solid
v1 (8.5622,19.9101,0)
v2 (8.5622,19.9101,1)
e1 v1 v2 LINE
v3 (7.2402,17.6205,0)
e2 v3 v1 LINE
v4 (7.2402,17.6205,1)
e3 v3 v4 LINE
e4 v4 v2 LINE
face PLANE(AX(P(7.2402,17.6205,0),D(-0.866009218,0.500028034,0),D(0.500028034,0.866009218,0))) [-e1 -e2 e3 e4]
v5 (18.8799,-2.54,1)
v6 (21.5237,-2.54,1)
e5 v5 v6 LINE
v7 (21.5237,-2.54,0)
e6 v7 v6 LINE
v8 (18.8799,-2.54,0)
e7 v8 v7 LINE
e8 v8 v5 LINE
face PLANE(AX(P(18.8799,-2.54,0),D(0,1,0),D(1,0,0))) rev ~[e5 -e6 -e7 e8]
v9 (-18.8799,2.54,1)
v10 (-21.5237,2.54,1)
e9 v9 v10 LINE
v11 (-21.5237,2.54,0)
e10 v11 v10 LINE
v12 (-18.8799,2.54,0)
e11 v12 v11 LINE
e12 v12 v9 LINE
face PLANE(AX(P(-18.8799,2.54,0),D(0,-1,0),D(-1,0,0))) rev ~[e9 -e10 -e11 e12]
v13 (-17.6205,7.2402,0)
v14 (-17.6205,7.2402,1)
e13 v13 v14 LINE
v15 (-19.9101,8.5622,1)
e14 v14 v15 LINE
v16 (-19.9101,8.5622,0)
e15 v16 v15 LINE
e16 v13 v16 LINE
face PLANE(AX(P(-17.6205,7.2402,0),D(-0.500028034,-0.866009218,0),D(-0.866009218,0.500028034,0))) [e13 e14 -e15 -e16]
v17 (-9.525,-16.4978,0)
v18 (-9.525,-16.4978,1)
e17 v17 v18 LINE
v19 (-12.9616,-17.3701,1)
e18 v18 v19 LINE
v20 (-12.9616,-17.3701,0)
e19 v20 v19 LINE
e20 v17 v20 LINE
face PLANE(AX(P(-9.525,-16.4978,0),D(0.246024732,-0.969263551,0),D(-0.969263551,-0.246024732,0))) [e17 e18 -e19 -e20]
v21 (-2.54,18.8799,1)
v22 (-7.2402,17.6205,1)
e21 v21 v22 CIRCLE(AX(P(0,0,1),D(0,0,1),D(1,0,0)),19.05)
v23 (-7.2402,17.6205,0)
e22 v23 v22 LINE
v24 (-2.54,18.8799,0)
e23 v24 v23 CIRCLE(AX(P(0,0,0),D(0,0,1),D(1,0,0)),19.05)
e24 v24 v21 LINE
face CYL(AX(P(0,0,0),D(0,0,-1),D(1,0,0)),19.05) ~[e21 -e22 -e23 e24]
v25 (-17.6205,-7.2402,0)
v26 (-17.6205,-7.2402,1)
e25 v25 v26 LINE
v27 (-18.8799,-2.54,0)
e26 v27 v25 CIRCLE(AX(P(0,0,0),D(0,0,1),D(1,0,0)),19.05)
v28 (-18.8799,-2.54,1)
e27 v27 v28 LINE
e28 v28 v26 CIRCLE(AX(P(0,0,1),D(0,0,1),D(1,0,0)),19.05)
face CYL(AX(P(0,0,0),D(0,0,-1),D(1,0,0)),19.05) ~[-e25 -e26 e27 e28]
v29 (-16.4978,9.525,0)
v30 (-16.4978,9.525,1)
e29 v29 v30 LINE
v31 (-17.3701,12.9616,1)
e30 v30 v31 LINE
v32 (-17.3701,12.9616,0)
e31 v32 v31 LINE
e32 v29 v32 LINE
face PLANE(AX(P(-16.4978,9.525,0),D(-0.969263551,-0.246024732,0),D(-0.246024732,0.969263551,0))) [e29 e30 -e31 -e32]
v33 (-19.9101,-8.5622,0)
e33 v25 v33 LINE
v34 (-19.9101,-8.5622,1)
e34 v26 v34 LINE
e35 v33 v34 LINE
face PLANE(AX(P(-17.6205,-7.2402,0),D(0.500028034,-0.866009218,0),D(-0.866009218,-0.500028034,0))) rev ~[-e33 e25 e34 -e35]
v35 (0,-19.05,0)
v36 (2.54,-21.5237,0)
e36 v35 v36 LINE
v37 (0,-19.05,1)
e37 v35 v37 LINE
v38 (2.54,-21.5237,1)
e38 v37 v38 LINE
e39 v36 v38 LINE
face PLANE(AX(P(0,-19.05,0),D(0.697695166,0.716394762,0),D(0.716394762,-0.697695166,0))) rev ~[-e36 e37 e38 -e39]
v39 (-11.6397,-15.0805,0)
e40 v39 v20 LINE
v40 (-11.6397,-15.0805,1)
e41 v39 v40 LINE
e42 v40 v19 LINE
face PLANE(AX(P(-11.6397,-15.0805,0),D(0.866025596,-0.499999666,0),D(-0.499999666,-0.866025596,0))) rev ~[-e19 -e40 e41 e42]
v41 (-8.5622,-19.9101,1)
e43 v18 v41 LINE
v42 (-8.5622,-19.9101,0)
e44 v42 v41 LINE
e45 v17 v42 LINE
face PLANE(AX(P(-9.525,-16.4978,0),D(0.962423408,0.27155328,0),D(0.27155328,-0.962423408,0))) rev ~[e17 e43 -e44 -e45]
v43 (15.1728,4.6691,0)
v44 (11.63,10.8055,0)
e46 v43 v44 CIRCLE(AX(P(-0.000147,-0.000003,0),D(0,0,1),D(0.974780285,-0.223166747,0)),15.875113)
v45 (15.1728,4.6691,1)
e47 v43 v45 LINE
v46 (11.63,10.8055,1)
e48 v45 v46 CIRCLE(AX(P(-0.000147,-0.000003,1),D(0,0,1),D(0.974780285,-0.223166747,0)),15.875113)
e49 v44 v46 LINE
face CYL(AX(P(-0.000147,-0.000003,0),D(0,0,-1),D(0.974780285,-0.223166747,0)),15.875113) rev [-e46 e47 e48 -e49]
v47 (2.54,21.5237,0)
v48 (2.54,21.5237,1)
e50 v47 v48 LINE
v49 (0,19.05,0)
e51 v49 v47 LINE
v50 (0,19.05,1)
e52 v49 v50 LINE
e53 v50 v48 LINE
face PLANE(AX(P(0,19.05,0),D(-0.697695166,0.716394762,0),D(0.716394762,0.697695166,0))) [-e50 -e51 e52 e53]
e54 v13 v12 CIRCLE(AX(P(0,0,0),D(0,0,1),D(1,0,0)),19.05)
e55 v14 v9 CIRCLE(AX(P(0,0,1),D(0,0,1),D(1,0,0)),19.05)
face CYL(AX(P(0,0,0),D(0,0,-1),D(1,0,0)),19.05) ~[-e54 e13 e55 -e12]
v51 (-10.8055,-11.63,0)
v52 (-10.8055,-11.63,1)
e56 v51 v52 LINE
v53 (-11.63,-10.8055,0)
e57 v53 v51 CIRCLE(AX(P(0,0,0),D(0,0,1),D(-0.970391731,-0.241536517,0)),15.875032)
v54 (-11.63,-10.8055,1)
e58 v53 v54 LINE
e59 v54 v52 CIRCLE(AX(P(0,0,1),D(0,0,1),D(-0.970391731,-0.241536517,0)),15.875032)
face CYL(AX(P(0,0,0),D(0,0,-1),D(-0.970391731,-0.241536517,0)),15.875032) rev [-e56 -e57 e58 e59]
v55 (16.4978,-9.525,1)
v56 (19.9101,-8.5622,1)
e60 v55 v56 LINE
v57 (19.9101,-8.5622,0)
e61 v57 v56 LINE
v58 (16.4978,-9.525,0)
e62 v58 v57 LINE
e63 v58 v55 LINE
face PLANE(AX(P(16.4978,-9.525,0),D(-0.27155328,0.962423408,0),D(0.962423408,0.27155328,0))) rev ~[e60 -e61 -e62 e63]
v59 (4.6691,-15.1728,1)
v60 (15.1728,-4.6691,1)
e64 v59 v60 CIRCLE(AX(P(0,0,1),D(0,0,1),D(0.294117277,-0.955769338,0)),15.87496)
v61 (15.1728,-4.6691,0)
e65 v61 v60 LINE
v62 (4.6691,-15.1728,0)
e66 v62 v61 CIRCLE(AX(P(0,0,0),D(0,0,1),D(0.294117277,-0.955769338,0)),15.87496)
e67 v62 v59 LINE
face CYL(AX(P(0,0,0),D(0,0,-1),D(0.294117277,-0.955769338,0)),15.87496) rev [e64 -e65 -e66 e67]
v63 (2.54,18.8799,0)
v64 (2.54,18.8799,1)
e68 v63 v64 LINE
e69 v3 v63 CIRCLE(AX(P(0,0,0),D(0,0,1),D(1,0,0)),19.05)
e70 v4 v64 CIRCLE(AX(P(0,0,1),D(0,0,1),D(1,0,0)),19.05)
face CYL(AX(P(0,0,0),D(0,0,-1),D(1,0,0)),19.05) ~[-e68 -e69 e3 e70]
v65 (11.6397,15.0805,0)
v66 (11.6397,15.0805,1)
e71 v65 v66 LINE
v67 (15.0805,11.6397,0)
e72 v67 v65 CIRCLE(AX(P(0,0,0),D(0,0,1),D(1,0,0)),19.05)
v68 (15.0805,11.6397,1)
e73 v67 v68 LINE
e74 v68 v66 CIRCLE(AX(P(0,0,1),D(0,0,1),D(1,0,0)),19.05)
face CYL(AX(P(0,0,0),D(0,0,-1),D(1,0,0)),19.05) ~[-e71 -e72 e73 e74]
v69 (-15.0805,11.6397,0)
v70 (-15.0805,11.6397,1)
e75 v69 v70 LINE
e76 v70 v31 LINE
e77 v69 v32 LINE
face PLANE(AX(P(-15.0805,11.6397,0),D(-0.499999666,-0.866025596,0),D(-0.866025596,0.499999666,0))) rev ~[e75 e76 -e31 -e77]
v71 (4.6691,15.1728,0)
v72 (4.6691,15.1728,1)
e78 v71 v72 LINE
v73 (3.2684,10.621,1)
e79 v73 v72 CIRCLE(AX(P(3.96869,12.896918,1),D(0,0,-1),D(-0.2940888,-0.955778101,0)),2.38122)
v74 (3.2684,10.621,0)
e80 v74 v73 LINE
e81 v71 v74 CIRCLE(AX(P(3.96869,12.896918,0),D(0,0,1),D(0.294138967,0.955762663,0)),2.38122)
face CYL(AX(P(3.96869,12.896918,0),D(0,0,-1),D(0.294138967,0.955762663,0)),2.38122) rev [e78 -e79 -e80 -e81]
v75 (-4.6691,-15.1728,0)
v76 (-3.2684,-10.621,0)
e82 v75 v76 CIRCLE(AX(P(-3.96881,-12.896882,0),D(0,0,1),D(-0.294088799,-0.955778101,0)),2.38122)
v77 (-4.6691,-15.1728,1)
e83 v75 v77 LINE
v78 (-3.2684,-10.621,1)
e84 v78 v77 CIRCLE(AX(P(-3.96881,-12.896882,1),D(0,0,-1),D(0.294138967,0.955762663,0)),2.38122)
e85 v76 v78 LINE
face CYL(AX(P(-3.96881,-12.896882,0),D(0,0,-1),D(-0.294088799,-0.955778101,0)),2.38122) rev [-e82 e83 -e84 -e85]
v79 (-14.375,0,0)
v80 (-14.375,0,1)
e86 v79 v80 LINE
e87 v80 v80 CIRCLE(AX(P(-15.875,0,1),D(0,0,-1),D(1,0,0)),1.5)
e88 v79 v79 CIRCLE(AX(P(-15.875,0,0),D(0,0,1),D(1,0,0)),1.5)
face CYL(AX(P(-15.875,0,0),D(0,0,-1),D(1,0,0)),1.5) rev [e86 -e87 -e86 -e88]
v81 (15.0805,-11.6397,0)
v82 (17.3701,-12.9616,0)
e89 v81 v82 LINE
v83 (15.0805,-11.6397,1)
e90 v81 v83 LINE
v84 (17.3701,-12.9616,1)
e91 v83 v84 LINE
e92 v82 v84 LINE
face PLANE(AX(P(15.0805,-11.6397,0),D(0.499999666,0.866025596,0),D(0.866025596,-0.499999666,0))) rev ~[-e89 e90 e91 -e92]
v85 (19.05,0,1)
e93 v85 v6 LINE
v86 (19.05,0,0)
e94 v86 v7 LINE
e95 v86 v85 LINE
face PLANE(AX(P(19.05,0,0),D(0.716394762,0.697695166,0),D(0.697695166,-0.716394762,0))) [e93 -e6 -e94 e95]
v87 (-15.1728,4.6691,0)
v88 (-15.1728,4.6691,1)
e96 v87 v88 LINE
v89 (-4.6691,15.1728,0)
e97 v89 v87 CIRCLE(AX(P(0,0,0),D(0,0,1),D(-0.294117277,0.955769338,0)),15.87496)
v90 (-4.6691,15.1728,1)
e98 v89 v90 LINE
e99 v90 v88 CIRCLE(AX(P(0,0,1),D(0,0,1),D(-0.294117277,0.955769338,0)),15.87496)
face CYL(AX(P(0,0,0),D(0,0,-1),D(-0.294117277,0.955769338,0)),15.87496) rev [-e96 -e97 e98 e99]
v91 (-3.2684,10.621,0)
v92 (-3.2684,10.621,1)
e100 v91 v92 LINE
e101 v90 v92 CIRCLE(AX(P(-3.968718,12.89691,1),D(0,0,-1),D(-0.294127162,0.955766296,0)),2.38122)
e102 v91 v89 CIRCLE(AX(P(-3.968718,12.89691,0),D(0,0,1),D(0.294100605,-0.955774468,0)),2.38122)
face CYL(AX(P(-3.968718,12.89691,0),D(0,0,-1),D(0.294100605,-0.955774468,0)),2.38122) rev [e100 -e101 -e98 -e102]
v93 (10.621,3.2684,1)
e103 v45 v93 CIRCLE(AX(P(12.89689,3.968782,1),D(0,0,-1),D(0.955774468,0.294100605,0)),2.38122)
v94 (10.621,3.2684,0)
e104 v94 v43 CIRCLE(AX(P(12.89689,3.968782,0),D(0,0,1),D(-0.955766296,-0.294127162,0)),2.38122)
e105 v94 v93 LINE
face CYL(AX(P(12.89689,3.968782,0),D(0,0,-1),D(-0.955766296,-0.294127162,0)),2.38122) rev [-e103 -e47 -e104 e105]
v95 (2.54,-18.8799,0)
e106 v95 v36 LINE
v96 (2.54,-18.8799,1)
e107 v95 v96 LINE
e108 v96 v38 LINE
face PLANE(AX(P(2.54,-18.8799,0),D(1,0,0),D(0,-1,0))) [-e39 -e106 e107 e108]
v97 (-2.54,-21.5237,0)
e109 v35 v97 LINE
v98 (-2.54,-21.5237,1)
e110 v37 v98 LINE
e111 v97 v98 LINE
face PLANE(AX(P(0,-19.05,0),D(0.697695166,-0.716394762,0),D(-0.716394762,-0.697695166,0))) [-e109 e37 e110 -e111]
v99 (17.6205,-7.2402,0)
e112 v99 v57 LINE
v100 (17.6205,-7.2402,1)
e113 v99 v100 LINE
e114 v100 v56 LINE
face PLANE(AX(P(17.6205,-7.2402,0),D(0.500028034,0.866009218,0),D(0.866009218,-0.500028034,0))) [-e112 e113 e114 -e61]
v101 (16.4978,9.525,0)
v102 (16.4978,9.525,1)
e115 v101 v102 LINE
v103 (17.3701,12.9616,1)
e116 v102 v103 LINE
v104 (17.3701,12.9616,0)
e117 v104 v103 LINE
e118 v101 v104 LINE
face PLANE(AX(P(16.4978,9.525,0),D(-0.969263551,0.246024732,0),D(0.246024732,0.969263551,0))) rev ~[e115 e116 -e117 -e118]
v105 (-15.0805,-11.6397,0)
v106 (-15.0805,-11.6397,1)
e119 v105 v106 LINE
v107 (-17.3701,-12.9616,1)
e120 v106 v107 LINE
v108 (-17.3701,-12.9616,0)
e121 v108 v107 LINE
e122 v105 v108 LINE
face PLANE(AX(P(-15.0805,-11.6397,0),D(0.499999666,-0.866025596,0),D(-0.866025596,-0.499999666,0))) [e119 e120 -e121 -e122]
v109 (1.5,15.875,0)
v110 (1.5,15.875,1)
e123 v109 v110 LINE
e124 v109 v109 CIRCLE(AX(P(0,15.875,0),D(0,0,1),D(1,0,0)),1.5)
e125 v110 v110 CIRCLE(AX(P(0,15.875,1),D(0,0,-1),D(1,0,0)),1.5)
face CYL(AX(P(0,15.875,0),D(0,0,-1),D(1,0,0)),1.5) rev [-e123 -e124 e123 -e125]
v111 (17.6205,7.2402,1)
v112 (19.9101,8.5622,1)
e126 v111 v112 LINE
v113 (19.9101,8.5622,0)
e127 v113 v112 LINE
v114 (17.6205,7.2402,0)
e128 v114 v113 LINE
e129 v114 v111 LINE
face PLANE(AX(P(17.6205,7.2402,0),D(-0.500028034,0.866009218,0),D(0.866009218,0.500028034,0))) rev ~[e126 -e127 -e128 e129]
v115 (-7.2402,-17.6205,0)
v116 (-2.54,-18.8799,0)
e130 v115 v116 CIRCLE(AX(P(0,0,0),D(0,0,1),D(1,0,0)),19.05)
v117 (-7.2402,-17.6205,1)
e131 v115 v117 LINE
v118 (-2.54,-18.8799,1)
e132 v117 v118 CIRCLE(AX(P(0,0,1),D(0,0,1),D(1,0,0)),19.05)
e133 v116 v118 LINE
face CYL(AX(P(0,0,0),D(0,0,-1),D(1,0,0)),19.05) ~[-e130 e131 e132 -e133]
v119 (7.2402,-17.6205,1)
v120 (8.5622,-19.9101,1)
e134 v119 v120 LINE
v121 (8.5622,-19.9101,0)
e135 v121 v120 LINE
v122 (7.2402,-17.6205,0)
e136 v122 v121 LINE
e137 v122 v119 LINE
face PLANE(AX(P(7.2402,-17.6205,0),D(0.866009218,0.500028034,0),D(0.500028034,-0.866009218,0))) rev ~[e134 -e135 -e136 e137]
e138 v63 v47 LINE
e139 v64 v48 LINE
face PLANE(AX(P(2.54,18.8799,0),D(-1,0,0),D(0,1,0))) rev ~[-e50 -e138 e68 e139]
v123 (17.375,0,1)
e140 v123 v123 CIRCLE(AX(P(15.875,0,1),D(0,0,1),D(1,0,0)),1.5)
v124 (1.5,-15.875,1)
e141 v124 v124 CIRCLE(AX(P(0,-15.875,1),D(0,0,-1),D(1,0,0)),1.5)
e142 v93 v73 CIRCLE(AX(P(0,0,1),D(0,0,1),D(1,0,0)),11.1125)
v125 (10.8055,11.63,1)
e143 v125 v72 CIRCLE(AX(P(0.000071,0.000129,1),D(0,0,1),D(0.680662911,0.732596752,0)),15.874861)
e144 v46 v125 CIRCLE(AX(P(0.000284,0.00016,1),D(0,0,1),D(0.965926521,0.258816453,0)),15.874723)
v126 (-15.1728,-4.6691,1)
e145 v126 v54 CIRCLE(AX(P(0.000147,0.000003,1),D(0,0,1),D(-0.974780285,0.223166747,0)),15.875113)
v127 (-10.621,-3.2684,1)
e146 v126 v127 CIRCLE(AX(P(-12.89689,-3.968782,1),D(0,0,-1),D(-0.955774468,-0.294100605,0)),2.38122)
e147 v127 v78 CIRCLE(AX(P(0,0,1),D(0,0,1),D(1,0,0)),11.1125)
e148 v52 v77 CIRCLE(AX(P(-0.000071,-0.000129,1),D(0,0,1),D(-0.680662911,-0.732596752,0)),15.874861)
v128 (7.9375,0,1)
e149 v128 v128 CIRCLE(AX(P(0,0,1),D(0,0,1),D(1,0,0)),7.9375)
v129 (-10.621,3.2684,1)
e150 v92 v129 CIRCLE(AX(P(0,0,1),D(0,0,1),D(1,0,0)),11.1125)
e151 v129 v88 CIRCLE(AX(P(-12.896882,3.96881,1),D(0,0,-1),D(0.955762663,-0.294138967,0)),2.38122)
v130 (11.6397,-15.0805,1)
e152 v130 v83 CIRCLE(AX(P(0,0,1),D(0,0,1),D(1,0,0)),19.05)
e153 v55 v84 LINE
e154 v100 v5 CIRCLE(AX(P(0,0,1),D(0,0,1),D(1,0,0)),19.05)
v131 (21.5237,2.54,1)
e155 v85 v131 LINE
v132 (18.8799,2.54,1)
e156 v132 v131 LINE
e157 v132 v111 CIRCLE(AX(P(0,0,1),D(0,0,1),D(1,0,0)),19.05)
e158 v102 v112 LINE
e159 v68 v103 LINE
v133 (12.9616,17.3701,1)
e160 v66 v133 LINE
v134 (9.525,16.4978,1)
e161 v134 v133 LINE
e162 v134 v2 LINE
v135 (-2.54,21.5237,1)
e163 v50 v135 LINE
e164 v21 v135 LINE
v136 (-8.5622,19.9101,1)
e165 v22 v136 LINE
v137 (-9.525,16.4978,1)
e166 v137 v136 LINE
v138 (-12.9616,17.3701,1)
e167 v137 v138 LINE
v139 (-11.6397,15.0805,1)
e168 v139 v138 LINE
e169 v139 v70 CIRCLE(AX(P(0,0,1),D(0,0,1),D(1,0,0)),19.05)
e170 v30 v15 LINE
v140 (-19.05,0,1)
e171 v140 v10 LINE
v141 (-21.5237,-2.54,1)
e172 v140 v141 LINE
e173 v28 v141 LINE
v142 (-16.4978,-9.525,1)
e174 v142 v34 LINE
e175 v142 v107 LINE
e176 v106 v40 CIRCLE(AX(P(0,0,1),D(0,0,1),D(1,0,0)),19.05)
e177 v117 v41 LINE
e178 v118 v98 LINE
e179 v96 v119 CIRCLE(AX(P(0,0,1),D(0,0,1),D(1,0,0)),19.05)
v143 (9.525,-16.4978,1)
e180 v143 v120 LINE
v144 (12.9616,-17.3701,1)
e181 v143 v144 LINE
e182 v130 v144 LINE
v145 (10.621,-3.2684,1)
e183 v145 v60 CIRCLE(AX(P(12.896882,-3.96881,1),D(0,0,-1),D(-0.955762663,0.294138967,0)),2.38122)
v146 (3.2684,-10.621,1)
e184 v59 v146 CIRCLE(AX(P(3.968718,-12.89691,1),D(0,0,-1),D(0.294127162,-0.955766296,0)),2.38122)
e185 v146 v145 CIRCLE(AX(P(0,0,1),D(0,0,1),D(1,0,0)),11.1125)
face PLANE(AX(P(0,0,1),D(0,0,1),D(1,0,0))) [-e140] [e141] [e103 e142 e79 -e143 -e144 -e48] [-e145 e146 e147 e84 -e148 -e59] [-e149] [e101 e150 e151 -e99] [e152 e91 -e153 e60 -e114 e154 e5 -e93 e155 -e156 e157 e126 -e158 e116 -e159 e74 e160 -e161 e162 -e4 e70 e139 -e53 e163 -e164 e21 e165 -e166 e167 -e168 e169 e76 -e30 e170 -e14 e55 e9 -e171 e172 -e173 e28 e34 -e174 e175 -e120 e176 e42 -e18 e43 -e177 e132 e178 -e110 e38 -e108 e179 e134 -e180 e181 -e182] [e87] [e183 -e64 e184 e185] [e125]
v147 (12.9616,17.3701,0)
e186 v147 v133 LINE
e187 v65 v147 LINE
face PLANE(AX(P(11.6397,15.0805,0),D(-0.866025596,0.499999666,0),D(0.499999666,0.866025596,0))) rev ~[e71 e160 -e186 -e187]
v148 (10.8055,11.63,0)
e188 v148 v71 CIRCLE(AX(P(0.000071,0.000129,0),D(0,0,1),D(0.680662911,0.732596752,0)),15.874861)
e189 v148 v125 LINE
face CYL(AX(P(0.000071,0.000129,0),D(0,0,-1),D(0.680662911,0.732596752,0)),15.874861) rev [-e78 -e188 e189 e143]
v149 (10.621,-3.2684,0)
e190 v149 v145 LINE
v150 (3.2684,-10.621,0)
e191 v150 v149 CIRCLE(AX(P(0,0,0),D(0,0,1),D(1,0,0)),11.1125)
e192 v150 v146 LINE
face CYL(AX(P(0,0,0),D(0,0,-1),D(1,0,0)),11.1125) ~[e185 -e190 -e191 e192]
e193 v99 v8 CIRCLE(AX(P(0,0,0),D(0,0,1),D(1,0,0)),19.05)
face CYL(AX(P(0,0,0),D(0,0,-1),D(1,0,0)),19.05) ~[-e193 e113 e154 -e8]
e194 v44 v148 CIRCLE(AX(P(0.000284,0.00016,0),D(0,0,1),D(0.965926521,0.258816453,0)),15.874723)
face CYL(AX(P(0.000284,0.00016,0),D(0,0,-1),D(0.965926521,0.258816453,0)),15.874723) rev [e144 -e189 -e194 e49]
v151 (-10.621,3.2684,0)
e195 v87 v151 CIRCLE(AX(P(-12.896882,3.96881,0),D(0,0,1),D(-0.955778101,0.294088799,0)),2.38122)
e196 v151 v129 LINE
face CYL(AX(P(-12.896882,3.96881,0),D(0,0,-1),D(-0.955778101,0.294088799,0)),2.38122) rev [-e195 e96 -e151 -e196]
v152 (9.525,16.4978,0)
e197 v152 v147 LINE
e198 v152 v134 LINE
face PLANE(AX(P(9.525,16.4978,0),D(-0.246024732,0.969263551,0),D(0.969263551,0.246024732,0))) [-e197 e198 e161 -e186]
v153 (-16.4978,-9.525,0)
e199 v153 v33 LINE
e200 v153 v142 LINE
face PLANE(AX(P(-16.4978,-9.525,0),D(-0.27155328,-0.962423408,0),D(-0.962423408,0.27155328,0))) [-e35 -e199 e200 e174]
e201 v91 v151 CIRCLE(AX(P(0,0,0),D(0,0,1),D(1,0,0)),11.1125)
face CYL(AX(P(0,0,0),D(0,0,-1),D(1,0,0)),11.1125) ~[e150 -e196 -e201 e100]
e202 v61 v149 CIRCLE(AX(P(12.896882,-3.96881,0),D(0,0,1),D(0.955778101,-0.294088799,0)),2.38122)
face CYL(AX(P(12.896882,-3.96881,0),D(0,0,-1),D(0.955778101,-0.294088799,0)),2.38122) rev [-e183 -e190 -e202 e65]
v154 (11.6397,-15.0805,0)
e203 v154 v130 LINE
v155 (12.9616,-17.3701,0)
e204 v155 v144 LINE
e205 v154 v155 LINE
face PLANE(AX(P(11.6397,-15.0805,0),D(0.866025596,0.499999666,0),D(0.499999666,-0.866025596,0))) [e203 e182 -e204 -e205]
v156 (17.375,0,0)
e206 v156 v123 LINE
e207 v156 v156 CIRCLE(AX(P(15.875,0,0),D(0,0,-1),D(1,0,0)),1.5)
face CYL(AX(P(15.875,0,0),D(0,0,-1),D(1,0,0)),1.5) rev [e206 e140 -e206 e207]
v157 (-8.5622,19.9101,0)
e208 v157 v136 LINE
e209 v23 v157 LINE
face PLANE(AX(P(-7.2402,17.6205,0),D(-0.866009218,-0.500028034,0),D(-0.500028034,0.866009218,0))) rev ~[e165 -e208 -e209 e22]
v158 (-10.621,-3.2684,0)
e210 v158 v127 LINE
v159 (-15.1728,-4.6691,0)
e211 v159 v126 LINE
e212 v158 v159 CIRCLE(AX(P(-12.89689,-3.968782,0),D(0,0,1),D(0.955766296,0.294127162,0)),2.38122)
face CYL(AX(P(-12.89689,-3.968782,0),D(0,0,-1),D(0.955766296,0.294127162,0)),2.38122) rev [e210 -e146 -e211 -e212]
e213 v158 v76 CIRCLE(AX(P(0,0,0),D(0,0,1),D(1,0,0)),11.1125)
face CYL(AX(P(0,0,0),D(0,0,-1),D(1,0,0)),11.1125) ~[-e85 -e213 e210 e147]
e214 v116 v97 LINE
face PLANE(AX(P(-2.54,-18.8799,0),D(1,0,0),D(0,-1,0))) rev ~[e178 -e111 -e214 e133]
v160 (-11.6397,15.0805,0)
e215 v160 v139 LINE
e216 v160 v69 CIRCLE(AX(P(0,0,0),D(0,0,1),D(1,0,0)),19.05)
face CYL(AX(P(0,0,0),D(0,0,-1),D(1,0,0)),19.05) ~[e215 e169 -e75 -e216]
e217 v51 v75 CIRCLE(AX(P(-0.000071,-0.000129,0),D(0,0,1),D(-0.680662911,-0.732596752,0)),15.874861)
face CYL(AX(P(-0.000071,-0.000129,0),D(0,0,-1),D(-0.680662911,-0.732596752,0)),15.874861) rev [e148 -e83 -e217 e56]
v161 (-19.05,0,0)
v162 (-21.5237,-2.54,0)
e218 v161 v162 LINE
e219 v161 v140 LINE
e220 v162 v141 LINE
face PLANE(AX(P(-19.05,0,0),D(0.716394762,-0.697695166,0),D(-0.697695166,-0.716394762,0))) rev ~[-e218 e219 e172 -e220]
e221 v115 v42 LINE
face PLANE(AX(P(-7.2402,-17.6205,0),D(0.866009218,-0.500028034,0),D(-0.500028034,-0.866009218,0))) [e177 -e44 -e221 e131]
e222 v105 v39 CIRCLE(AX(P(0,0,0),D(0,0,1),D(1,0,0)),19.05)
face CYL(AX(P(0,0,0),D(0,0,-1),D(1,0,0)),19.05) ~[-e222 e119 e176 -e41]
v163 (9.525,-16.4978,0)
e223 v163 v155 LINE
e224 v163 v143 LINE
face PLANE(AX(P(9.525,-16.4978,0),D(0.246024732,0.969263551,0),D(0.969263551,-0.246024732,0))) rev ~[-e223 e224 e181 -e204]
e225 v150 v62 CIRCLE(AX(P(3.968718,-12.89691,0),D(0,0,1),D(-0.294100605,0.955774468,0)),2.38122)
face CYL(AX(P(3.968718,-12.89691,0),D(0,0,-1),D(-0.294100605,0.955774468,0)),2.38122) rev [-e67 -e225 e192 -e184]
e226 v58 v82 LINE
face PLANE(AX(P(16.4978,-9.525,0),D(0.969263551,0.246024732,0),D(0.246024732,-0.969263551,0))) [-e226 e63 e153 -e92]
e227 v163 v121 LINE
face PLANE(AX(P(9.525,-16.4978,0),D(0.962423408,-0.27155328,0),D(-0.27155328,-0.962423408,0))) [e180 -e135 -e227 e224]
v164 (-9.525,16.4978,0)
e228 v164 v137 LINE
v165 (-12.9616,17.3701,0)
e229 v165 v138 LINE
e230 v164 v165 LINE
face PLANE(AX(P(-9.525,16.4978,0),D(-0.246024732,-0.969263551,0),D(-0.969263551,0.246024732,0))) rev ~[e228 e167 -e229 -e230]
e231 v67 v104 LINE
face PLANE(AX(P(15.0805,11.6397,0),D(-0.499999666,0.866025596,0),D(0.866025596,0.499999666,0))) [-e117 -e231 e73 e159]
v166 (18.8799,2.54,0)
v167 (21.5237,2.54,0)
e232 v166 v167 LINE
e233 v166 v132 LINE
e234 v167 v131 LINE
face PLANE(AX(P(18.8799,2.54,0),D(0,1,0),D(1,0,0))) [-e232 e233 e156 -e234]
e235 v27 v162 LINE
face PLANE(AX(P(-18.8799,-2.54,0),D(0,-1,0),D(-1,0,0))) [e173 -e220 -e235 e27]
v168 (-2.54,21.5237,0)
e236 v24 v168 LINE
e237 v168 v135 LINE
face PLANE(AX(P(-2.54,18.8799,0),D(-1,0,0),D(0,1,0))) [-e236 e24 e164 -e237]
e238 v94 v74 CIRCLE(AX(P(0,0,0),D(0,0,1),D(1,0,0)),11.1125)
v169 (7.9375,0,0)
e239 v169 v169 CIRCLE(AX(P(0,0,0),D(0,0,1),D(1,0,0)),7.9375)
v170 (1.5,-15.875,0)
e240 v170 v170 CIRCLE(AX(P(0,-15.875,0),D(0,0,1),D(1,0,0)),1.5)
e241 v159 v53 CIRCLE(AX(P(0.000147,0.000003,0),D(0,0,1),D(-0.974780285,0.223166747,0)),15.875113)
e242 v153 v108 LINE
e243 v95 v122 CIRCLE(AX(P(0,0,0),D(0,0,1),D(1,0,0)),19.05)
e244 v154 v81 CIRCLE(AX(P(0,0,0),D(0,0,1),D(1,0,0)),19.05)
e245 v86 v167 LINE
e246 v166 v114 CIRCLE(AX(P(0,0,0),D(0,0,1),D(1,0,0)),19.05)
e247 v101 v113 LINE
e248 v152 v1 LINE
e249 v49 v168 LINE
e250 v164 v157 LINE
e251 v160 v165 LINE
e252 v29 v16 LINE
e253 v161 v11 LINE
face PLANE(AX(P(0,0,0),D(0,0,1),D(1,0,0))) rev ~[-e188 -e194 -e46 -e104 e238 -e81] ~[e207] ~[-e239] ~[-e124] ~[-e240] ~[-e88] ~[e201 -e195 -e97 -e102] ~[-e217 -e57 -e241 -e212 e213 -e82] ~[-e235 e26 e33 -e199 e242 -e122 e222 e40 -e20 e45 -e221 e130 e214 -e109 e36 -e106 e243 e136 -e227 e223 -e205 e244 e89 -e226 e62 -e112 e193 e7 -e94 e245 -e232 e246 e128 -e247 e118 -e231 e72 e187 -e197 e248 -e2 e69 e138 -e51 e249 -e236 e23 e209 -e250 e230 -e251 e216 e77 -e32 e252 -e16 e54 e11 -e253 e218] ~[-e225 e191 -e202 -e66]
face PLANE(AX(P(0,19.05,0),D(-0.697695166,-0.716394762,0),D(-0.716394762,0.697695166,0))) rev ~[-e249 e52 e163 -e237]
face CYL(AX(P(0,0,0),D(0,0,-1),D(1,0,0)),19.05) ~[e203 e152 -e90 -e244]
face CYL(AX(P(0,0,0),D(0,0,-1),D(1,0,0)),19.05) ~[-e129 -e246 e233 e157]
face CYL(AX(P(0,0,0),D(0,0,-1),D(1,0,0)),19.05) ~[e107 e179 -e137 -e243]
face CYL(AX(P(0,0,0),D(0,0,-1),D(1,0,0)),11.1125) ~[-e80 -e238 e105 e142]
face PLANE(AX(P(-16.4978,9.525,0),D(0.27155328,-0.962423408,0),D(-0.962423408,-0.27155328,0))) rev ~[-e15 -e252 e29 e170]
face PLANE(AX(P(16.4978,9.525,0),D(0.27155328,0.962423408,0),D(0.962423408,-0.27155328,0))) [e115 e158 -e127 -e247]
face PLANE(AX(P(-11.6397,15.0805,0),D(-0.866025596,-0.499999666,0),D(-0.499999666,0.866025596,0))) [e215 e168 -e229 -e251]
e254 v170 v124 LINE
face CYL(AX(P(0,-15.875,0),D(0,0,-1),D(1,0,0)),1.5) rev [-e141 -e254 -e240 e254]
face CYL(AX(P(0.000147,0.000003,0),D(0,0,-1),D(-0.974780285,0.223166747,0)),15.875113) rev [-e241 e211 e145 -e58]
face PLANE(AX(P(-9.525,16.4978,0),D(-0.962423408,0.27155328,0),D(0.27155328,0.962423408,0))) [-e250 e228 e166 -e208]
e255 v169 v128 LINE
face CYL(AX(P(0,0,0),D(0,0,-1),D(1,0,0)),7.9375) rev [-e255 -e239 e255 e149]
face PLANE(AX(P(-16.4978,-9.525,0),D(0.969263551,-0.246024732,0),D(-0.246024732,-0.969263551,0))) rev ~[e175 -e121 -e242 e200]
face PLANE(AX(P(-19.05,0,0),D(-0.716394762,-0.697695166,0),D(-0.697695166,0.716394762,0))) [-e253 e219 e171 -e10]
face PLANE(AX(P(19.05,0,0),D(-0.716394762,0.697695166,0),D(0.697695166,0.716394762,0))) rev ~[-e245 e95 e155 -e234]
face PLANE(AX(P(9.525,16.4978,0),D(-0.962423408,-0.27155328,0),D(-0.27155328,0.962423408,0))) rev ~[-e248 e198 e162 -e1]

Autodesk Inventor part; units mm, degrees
ref_plane "YZ Plane" through (0, 0, 0) normal (1, 0, 0) x (0, 1, 0)
ref_plane "XZ Plane" through (0, 0, 0) normal (0, 1, 0) x (-1, 0, 0)
ref_plane "XY Plane" through (0, 0, 0) normal (0, 0, 1) x (1, 0, 0)
sketch "Sketch1" plane through (0, 0, 0) normal (0, 0, 1) x (1, 0, 0)
  circle A0 centre (0, 0) radius 19.05
  circle A1 centre (0, 0) radius 15.875 construction
  circle A2 centre (0, 0) radius 11.1125
  line L0 (0, 0) -> (0, 19.05) construction
  circle A3 centre (0, 15.875) radius 1.5
  line L1 (-1.5875, 10.9985) -> (-1.5875, 18.9837)
  line L2 (1.5875, 10.9985) -> (1.5875, 18.9837)
  circle A4 centre (0, 0) radius 7.9375
  arc A5 (-4.6691, 15.1728) -> (-15.1728, 4.6691) centre (0, 0) ccw
  arc A6 (-15.4746, 3.5428) -> (-11.63, -10.8055) centre (0, 0) ccw
  arc A7 (-10.8055, -11.63) -> (3.5428, -15.4746) centre (0, 0) ccw
  arc A8 (4.6691, -15.1728) -> (15.1728, -4.6691) centre (0, 0) ccw
  arc A9 (15.4746, -3.5428) -> (11.63, 10.8055) centre (0, 0) ccw
  arc A10 (10.8055, 11.63) -> (-3.5428, 15.4746) centre (0, 0) ccw
  line L3 (-1.5875, 18.9837) -> (-1.5875, 21.5237) construction
  line L4 (-1.5875, 21.5237) -> (1.5875, 18.9837) construction
  arc A11 (-15.405, -3.8344) -> (-3.8344, -15.405) centre (0, 0) ccw
  arc A12 (4.6691, -15.1728) -> (15.1728, -4.6691) centre (0, 0) ccw
  arc A13 (15.3341, 4.1088) -> (4.6691, 15.1728) centre (0, 0) ccw
  arc A14 (-4.6691, 15.1728) -> (-15.1728, 4.6691) centre (0, 0) ccw
  line L5 (0, 19.05) -> (-2.54, 19.05) construction
  line L6 (-2.54, 19.05) -> (-2.54, 21.5237) construction
  line L7 (-2.54, 21.5237) -> (0, 21.5237) construction
  line L8 (0, 21.5237) -> (0, 19.05) construction
  line L9 (0, 19.05) -> (-2.54, 21.5237)
  line L10 (-2.54, 18.8799) -> (-2.54, 21.5237)
  line L11 (0, 19.05) -> (2.54, 21.5237)
  line L12 (2.54, 18.8799) -> (2.54, 21.5237)
  line L13 (-9.525, 16.4978) -> (-8.5622, 19.9101)
  line L14 (-7.2402, 17.6205) -> (-8.5622, 19.9101)
  line L15 (-9.525, 16.4978) -> (-12.9616, 17.3701)
  line L16 (-11.6397, 15.0805) -> (-12.9616, 17.3701)
  line L17 (-16.4978, 9.525) -> (-17.3701, 12.9616)
  line L18 (-15.0805, 11.6397) -> (-17.3701, 12.9616)
  line L19 (-16.4978, 9.525) -> (-19.9101, 8.5622)
  line L20 (-17.6205, 7.2402) -> (-19.9101, 8.5622)
  line L21 (-19.05, 0) -> (-21.5237, 2.54)
  line L22 (-18.8799, 2.54) -> (-21.5237, 2.54)
  line L23 (-19.05, 0) -> (-21.5237, -2.54)
  line L24 (-18.8799, -2.54) -> (-21.5237, -2.54)
  line L25 (-16.4978, -9.525) -> (-19.9101, -8.5622)
  line L26 (-17.6205, -7.2402) -> (-19.9101, -8.5622)
  line L27 (-16.4978, -9.525) -> (-17.3701, -12.9616)
  line L28 (-15.0805, -11.6397) -> (-17.3701, -12.9616)
  line L29 (-9.525, -16.4978) -> (-12.9616, -17.3701)
  line L30 (-11.6397, -15.0805) -> (-12.9616, -17.3701)
  line L31 (-9.525, -16.4978) -> (-8.5622, -19.9101)
  line L32 (-7.2402, -17.6205) -> (-8.5622, -19.9101)
  line L33 (0, -19.05) -> (-2.54, -21.5237)
  line L34 (-2.54, -18.8799) -> (-2.54, -21.5237)
  line L35 (0, -19.05) -> (2.54, -21.5237)
  line L36 (2.54, -18.8799) -> (2.54, -21.5237)
  line L37 (9.525, -16.4978) -> (8.5622, -19.9101)
  line L38 (7.2402, -17.6205) -> (8.5622, -19.9101)
  line L39 (9.525, -16.4978) -> (12.9616, -17.3701)
  line L40 (11.6397, -15.0805) -> (12.9616, -17.3701)
  line L41 (16.4978, -9.525) -> (17.3701, -12.9616)
  line L42 (15.0805, -11.6397) -> (17.3701, -12.9616)
  line L43 (16.4978, -9.525) -> (19.9101, -8.5622)
  line L44 (17.6205, -7.2402) -> (19.9101, -8.5622)
  line L45 (19.05, 0) -> (21.5237, -2.54)
  line L46 (18.8799, -2.54) -> (21.5237, -2.54)
  line L47 (19.05, 0) -> (21.5237, 2.54)
  line L48 (18.8799, 2.54) -> (21.5237, 2.54)
  line L49 (16.4978, 9.525) -> (19.9101, 8.5622)
  line L50 (17.6205, 7.2402) -> (19.9101, 8.5622)
  line L51 (16.4978, 9.525) -> (17.3701, 12.9616)
  line L52 (15.0805, 11.6397) -> (17.3701, 12.9616)
  line L53 (9.525, 16.4978) -> (12.9616, 17.3701)
  line L54 (11.6397, 15.0805) -> (12.9616, 17.3701)
  line L55 (9.525, 16.4978) -> (8.5622, 19.9101)
  line L56 (7.2402, 17.6205) -> (8.5622, 19.9101)
  arc A15 (4.6691, 15.1728) -> (3.2684, 10.621) centre (3.9687, 12.8969) ccw
  arc A16 (-3.2684, 10.621) -> (-4.6691, 15.1728) centre (-3.9687, 12.8969) ccw
  arc A17 (-15.1728, 4.6691) -> (-10.621, 3.2684) centre (-12.8969, 3.9688) ccw
  line L57 (-10.9985, 1.5875) -> (-18.9837, 1.5875)
  circle A18 centre (-15.875, 0) radius 1.5
  line L58 (-10.9985, -1.5875) -> (-18.9837, -1.5875)
  arc A19 (-10.621, -3.2684) -> (-15.1728, -4.6691) centre (-12.8969, -3.9688) ccw
  arc A20 (-4.6691, -15.1728) -> (-3.2684, -10.621) centre (-3.9688, -12.8969) ccw
  line L59 (-1.5875, -10.9985) -> (-1.5875, -18.9837)
  circle A21 centre (0, -15.875) radius 1.5
  line L60 (1.5875, -10.9985) -> (1.5875, -18.9837)
  arc A22 (3.2684, -10.621) -> (4.6691, -15.1728) centre (3.9687, -12.8969) ccw
  arc A23 (15.1728, -4.6691) -> (10.621, -3.2684) centre (12.8969, -3.9688) ccw
  line L61 (10.9985, -1.5875) -> (18.9837, -1.5875)
  circle A24 centre (15.875, 0) radius 1.5
  line L62 (10.9985, 1.5875) -> (18.9837, 1.5875)
  arc A25 (10.621, 3.2684) -> (15.1728, 4.6691) centre (12.8969, 3.9688) ccw
  point P0 (1.5875, 14.665)
  point P1 (4.5184, 10.1524)
  point P2 (10.8055, 11.63)
  point P3 (11.63, 10.8055)
  point P4 (-10.8055, -11.63)
  point P5 (-11.63, -10.8055)
  point P6 (-11.6397, 15.0805)
  point P7 (-9.525, 16.4978)
  point P8 (-9.525, 16.4978)
  point P9 (-7.2402, 17.6205)
  point P10 (-17.6205, 7.2402)
  point P11 (-16.4978, 9.525)
  point P12 (-16.4978, 9.525)
  point P13 (-15.0805, 11.6397)
  point P14 (-18.8799, -2.54)
  point P15 (-19.05, 0)
  point P16 (-19.05, 0)
  point P17 (-18.8799, 2.54)
  point P18 (-15.0805, -11.6397)
  point P19 (-16.4978, -9.525)
  point P20 (-16.4978, -9.525)
  point P21 (-17.6205, -7.2402)
  point P22 (-7.2402, -17.6205)
  point P23 (-9.525, -16.4978)
  point P24 (-9.525, -16.4978)
  point P25 (-11.6397, -15.0805)
  point P26 (2.54, -18.8799)
  point P27 (0, -19.05)
  point P28 (0, -19.05)
  point P29 (-2.54, -18.8799)
  point P30 (11.6397, -15.0805)
  point P31 (9.525, -16.4978)
  point P32 (9.525, -16.4978)
  point P33 (7.2402, -17.6205)
  point P34 (17.6205, -7.2402)
  point P35 (16.4978, -9.525)
  point P36 (16.4978, -9.525)
  point P37 (15.0805, -11.6397)
  point P38 (19.05, 0)
  point P39 (19.05, 0)
  point P40 (18.8799, -2.54)
  point P41 (18.8799, 2.54)
  point P42 (15.0805, 11.6397)
  point P43 (16.4978, 9.525)
  point P44 (16.4978, 9.525)
  point P45 (17.6205, 7.2402)
  point P46 (7.2402, 17.6205)
  point P47 (9.525, 16.4978)
  point P48 (9.525, 16.4978)
  point P49 (11.6397, 15.0805)
  point P50 (-14.665, 1.5875)
  point P51 (-1.5875, -14.665)
  point P52 (14.665, -1.5875)
  point P53 (3.2684, -10.621)
  point P54 (10.621, -3.2684)
  point P55 (15.1728, -4.6691)
  point P56 (4.6691, -15.1728)
  point P57 (-3.2684, -10.621)
  point P58 (-4.6691, -15.1728)
  point P59 (-15.1728, -4.6691)
  point P60 (-3.2684, 10.621)
  point P61 (-10.621, 3.2684)
  point P62 (-15.1728, 4.6691)
  point P63 (4.6691, 15.1728)
  point P64 (15.1728, 4.6691)
  point P65 (10.621, 3.2684)
  dimension "d0" = 38.1
  dimension "d1" = 31.75
  dimension "d2" = 22.225
  dimension "d3" = 3
  dimension "d4" = 1.5875
  dimension "d5" = 1.5875
  dimension "d10" = 15.875
  dimension "d13" = 360
  dimension "d15" = 2.54
  dimension "d22" = 2.54
  dimension "d25" = 360
  dimension "d29" = 360
extrude "Extrusion1" add sketch "Sketch1" along normal blind 1 contours A0 L61 A9 A24 L62 | L45 L46 A0 | A0 L48 L47 | L62 A9 A13 A10 L2 A0 | A0 L60 A22 A8 A23 L61 | L62 A25 A9 | A9 A24 L61 A2 L62 | A0 L49 L50 | L62 A2 A25 | L44 L43 A0 | A23 A2 L61 | A0 L52 L51 | A2 | L41 L42 A0 | A2 L2 A15 | A22 L60 A2 | A0 L53 L54 | A2 L1 A10 A3 L2 | L2 A10 A15 | L40 L39 A0 | L60 A7 A21 L59 A2 | A0 L56 L55 | A2 A16 L1 | A10 A3 L1 A0 L2 | L37 L38 A0 | L60 A0 L59 A7 A21 | L59 A20 A2 | A16 A5 A17 L57 A0 L1 | A0 L11 L12 | A0 L36 L35 | L59 A7 A20 | A2 L57 A17 | A0 L10 L9 | L33 L34 A0 | A19 L58 A2 | A7 L59 A0 L58 A6 A11 | A2 L58 A6 A18 L57 | A19 A6 L58 | A6 A18 L58 A0 L57 | A0 L21 L22 | A0 L13 L14 | L32 L31 A0 | A0 L24 L23 | A0 L16 L15 | L29 L30 A0 | L20 L19 A0 | A0 L25 L26 | L17 L18 A0 | L28 L27 A0
equation "\"OD\" = 38.1"
properties part number "Wood Magnets  (UNI) V1.0." material "Titanium"
